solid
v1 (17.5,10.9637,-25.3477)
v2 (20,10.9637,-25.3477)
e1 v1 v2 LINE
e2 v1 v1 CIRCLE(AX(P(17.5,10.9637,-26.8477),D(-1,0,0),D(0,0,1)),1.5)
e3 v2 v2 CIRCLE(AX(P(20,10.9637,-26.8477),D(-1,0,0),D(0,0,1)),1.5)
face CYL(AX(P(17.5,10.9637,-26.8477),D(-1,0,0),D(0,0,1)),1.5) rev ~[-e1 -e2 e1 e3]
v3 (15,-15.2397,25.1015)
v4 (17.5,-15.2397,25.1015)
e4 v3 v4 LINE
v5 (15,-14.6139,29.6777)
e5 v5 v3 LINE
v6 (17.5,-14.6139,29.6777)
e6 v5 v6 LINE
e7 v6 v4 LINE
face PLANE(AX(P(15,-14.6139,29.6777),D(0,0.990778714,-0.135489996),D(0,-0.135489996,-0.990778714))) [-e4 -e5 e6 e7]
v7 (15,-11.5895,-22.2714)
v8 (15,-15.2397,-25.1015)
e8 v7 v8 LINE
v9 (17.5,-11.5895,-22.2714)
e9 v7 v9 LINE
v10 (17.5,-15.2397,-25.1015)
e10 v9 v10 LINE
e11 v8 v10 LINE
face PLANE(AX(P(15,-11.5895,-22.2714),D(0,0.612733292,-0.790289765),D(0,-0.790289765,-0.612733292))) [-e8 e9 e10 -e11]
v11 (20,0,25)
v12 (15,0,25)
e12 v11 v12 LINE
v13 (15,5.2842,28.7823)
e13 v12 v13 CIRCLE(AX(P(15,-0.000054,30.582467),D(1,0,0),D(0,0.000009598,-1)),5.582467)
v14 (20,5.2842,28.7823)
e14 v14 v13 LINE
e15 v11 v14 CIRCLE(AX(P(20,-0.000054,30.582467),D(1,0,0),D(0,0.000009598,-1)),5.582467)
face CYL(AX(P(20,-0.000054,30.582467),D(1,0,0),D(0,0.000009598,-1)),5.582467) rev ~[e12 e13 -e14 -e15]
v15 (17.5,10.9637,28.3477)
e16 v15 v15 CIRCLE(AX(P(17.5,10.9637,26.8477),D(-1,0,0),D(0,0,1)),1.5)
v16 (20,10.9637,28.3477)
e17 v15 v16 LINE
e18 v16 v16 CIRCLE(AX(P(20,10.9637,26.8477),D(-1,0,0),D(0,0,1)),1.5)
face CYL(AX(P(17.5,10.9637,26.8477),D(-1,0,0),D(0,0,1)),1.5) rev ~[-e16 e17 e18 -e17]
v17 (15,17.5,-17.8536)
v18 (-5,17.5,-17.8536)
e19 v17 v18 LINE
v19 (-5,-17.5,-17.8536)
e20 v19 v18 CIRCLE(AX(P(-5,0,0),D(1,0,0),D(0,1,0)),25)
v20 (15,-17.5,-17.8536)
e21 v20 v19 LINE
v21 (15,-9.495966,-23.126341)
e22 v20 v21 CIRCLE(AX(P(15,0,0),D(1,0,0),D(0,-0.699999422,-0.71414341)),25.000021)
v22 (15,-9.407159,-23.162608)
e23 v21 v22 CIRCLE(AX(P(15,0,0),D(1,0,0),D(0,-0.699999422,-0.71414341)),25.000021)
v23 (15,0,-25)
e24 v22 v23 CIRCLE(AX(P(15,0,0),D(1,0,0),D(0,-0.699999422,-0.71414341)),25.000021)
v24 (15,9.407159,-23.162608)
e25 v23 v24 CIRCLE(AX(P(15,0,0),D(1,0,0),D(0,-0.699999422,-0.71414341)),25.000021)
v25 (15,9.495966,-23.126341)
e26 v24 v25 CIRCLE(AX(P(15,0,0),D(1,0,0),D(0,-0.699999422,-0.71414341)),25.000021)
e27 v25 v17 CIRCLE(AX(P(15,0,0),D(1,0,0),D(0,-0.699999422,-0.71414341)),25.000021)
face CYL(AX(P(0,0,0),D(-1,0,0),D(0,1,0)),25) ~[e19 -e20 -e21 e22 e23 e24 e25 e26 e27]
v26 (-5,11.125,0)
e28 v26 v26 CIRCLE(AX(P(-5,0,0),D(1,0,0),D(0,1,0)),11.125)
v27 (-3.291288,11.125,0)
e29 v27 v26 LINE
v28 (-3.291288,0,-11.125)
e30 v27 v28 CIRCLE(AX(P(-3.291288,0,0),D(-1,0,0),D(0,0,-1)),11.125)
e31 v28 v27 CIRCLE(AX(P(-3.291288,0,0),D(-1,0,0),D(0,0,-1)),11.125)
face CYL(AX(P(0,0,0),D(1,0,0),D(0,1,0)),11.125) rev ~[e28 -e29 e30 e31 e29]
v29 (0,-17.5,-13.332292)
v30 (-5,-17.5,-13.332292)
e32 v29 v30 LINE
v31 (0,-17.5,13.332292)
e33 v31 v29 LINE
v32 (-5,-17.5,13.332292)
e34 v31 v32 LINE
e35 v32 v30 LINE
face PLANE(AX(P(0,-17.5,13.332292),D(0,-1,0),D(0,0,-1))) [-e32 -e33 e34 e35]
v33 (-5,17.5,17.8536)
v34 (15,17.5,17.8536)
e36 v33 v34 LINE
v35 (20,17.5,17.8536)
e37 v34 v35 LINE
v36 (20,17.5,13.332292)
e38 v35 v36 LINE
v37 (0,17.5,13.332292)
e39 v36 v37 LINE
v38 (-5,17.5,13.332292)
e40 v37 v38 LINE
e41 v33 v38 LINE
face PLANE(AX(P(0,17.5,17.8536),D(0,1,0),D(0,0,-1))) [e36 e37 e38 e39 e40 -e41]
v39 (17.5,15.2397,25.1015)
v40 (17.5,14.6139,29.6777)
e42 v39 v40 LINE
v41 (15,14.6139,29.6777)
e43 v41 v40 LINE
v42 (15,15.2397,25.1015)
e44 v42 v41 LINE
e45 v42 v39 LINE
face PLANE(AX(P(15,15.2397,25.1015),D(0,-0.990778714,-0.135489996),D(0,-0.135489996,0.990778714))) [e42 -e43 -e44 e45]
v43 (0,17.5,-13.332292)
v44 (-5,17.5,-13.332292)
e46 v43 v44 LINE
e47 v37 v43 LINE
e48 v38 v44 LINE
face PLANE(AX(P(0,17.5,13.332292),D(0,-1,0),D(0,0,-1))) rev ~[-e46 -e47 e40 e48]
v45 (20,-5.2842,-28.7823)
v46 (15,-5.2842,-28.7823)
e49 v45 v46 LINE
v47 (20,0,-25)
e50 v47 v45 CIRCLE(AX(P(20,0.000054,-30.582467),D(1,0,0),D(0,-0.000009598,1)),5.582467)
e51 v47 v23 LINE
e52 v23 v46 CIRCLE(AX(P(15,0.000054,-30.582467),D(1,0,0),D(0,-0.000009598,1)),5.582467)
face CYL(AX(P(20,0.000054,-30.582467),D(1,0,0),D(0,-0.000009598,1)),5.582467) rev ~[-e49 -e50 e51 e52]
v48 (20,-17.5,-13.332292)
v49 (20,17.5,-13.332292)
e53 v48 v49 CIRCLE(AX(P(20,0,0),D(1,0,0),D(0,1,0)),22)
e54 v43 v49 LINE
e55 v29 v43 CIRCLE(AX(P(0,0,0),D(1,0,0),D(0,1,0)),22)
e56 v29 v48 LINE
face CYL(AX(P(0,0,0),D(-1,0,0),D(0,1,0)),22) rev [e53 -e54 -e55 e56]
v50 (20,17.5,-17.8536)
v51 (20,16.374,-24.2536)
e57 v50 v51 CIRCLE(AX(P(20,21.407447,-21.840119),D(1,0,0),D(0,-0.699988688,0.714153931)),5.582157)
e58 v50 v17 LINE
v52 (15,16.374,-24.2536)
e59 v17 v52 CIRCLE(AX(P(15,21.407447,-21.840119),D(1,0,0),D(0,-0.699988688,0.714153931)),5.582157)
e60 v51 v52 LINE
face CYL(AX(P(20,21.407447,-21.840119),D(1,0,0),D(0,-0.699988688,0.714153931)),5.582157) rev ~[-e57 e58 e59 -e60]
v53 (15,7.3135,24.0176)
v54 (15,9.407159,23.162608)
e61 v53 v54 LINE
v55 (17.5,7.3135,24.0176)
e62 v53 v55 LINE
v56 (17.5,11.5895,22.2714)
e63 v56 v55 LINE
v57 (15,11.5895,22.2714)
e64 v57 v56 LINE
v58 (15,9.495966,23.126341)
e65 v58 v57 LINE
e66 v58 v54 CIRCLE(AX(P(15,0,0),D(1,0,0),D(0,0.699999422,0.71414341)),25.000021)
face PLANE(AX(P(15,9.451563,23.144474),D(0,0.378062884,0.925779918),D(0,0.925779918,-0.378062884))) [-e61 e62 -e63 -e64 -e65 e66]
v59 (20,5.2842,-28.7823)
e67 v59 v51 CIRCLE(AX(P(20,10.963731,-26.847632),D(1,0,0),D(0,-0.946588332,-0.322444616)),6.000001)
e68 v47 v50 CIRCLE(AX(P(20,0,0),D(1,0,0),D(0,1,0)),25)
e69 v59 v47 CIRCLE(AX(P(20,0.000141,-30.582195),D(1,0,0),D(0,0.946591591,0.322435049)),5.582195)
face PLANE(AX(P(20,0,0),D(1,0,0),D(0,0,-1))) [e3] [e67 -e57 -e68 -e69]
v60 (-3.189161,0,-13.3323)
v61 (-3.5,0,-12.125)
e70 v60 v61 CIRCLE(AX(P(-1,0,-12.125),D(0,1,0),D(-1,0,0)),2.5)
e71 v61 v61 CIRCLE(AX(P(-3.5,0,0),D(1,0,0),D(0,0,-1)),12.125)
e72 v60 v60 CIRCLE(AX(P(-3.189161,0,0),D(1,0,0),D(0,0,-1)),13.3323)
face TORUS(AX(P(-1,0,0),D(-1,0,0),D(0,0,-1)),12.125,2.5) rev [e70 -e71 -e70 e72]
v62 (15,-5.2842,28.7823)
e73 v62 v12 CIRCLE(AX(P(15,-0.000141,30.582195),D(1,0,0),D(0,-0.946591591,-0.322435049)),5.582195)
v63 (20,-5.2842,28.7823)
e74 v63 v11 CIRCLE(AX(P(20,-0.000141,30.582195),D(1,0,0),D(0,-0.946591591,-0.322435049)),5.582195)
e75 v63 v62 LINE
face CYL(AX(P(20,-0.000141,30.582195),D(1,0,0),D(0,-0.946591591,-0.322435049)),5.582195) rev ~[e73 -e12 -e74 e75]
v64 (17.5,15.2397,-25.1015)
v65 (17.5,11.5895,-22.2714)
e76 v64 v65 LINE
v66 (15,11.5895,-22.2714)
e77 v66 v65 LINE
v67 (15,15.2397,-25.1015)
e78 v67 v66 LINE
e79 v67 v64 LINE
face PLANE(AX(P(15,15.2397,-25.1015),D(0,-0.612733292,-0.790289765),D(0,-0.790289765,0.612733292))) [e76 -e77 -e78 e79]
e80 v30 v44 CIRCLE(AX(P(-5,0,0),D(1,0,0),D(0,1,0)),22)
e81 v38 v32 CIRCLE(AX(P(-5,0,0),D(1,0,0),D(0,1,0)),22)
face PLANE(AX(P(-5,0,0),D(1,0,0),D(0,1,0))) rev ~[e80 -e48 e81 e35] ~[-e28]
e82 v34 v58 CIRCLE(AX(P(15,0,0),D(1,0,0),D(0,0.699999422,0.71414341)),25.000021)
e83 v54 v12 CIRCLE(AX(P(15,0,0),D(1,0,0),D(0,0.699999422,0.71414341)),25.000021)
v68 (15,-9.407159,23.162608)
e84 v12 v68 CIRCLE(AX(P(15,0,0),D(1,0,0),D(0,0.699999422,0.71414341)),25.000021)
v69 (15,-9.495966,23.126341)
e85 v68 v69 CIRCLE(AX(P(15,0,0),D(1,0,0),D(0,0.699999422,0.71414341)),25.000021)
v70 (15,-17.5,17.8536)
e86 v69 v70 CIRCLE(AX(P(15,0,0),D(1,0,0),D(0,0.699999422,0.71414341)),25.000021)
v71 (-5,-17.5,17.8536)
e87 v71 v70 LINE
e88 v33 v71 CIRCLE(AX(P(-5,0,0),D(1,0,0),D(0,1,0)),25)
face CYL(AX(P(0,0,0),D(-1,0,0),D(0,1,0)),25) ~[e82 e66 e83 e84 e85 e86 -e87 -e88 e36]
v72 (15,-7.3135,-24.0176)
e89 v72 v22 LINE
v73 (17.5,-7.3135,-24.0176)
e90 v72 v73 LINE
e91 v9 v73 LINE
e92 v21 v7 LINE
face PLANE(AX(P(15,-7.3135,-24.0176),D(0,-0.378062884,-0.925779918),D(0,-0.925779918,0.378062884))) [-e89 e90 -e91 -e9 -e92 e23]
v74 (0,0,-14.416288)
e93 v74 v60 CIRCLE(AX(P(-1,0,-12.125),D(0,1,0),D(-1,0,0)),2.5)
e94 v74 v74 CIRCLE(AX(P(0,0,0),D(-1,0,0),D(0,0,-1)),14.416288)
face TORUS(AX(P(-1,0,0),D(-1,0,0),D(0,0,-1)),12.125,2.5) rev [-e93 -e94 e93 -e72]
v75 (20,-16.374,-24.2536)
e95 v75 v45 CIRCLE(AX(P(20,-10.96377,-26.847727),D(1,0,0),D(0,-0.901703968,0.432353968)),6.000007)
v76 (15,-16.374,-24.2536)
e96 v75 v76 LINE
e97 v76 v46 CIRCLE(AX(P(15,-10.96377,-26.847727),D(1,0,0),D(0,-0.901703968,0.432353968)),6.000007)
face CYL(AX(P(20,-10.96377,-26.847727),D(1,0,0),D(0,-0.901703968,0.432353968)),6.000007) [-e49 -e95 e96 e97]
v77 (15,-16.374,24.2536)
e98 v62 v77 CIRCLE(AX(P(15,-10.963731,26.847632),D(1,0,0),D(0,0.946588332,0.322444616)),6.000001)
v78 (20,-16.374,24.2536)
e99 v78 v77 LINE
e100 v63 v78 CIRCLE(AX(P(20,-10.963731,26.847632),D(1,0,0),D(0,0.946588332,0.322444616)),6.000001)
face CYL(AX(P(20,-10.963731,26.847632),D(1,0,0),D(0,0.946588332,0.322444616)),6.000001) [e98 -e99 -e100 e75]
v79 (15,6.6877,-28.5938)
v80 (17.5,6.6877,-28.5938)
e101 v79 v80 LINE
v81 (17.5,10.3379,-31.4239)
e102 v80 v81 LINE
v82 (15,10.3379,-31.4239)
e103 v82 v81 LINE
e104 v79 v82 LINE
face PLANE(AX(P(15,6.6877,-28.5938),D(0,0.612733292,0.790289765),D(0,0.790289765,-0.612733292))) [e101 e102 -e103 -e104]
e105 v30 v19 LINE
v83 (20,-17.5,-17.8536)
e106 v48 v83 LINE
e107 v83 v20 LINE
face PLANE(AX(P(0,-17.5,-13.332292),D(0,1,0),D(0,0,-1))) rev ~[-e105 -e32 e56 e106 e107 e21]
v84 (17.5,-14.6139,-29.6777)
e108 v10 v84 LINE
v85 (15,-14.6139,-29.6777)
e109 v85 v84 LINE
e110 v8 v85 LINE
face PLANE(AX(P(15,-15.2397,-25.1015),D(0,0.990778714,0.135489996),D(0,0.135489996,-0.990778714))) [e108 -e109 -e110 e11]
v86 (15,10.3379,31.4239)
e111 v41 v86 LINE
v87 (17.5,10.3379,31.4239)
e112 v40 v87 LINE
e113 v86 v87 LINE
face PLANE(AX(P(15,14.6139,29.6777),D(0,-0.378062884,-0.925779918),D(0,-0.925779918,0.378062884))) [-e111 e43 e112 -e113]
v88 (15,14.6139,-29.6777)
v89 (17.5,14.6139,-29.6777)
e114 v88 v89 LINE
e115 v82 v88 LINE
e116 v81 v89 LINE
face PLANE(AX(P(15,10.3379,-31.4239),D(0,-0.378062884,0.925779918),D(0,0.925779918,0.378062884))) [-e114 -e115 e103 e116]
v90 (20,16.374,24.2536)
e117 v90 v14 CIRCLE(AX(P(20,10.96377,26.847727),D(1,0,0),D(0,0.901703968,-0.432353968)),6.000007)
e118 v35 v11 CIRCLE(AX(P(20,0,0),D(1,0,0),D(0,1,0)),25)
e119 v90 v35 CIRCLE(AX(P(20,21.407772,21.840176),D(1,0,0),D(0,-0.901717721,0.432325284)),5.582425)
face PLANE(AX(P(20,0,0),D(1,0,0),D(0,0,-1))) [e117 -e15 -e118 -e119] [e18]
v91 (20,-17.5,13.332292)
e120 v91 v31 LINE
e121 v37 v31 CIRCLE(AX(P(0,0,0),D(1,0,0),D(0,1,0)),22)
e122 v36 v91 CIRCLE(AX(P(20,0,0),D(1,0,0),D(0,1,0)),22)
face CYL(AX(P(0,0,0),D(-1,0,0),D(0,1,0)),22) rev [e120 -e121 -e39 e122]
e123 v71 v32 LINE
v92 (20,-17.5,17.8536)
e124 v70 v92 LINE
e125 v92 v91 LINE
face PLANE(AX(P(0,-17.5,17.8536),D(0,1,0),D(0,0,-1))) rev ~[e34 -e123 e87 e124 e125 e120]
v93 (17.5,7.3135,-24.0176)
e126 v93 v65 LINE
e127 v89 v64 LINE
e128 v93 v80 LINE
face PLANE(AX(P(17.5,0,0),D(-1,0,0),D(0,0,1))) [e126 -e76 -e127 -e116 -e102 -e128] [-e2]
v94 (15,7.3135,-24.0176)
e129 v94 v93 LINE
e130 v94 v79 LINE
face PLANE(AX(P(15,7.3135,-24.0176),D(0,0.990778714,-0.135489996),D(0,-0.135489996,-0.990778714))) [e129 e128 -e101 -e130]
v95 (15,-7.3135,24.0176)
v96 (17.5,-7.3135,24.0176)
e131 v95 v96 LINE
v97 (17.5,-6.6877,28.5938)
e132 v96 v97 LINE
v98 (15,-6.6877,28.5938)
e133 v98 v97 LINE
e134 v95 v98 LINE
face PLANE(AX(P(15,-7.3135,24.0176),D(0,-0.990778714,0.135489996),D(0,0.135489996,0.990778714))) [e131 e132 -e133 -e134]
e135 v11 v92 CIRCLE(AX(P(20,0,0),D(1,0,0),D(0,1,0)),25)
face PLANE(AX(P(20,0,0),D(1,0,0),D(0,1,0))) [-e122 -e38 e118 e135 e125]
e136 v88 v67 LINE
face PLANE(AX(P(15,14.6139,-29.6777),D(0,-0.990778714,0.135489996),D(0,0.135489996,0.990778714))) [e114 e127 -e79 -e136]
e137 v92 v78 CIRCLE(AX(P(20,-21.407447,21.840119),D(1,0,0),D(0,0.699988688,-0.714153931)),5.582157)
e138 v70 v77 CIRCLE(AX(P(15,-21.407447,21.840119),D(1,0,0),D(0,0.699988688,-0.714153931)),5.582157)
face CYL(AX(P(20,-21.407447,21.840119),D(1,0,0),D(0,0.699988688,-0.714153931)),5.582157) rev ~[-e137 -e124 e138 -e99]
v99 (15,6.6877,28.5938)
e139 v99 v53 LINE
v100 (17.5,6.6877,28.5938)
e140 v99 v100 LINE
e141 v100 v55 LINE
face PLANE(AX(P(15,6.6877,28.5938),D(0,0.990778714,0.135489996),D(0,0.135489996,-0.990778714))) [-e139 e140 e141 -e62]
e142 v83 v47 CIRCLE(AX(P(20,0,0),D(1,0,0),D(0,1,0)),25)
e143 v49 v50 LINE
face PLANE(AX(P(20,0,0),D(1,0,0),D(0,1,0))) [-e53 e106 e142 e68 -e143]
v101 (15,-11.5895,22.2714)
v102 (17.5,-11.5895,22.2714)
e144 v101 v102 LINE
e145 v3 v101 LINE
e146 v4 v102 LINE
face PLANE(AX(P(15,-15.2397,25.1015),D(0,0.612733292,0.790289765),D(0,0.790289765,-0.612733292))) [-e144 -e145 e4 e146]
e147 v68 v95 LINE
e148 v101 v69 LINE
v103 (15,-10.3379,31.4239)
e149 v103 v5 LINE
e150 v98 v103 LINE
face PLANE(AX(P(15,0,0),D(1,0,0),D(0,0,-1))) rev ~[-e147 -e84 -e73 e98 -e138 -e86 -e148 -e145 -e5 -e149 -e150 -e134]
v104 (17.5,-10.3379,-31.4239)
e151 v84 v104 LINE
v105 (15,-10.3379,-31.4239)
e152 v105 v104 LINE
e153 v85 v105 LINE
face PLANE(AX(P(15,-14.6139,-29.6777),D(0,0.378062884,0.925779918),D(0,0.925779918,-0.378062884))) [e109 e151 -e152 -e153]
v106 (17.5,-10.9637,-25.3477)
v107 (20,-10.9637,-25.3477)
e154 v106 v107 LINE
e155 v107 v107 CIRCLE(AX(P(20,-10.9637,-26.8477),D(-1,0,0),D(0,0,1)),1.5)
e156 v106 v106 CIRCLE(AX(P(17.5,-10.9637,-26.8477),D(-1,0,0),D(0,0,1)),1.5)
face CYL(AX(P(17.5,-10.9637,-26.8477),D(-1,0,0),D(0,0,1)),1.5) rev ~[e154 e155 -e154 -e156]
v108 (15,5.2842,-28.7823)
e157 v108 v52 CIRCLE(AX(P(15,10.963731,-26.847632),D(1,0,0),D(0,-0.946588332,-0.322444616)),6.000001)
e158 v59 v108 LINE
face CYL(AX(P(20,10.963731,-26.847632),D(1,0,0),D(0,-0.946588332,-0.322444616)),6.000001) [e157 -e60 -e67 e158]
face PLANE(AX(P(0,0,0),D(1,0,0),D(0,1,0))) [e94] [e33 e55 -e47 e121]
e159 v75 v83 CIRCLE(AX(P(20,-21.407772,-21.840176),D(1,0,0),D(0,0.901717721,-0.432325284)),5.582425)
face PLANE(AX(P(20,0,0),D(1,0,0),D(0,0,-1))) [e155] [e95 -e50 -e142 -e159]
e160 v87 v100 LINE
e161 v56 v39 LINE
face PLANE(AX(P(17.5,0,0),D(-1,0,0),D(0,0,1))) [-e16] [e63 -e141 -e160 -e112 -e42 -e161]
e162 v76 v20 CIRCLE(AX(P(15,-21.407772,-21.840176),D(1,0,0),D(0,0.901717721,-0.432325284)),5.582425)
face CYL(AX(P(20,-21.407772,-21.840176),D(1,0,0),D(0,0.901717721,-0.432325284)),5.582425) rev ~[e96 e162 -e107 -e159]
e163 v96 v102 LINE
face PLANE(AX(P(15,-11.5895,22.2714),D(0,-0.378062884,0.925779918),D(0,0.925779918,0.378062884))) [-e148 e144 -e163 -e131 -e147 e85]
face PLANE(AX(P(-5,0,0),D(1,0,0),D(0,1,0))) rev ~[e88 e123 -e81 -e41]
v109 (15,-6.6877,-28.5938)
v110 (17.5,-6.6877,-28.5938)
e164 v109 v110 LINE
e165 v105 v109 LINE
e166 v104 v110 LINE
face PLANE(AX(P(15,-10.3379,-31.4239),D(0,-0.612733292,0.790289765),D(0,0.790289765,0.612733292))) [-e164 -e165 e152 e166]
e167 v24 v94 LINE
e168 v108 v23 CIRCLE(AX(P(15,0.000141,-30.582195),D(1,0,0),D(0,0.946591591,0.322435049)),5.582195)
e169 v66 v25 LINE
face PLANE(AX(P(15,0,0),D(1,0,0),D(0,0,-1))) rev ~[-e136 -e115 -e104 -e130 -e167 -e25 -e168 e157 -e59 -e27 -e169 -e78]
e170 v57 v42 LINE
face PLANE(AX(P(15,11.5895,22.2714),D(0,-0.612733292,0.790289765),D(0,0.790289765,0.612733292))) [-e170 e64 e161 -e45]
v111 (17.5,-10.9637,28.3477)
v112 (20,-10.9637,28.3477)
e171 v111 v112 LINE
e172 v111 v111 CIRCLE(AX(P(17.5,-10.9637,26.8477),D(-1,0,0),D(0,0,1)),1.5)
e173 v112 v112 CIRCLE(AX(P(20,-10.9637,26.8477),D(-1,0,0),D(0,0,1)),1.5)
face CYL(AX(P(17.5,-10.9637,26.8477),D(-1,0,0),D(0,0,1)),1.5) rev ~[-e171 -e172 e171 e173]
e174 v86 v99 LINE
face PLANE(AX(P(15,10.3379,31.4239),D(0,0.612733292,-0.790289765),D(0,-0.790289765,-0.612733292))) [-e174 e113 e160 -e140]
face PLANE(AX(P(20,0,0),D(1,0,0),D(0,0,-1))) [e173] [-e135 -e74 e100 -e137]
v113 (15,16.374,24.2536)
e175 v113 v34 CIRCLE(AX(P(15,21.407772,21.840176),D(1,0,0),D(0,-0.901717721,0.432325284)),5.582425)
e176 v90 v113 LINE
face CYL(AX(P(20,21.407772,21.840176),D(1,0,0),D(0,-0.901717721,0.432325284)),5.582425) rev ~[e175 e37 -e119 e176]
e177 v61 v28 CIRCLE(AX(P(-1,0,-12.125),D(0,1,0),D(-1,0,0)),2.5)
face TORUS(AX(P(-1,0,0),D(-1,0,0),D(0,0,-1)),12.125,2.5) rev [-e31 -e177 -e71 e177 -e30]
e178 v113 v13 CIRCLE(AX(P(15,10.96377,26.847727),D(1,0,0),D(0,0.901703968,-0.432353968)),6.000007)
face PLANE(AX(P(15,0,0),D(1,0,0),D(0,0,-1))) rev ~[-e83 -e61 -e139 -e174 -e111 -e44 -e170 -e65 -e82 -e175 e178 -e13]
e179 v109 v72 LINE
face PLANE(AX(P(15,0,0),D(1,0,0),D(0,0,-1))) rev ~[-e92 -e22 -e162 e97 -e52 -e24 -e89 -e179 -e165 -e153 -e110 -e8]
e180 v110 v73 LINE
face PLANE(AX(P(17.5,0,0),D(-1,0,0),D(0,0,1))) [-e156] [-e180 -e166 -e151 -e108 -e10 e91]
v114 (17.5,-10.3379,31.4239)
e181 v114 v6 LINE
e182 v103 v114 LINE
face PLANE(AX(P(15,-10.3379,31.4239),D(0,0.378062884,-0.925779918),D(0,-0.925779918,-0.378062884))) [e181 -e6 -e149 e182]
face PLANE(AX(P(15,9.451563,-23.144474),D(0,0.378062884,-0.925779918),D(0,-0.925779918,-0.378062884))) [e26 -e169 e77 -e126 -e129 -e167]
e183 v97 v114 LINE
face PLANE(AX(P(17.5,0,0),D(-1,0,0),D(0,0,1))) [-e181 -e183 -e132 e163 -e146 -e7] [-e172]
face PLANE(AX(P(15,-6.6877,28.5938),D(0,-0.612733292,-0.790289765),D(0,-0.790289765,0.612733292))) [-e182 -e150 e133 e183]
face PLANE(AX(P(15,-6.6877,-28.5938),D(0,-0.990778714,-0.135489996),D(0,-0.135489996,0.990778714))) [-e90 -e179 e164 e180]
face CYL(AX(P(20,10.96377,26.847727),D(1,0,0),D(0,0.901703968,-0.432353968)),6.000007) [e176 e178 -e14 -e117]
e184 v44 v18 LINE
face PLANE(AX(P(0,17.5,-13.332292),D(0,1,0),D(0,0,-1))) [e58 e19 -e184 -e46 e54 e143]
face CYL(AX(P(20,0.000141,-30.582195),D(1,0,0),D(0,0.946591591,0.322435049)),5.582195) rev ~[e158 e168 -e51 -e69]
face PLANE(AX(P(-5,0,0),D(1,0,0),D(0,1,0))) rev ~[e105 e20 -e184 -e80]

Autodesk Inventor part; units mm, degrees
ref_plane "YZ Plane" through (0, 0, 0) normal (1, 0, 0) x (0, 1, 0)
ref_plane "XZ Plane" through (0, 0, 0) normal (0, 1, 0) x (-1, 0, 0)
ref_plane "XY Plane" through (0, 0, 0) normal (0, 0, 1) x (1, 0, 0)
sketch "Sketch1" plane through (0, 0, 0) normal (1, 0, 0) x (0, 1, 0)
  circle A0 centre (0, 0) radius 11.125
  line L0 (17.5, 17.8536) -> (17.5, -17.8536)
  line L1 (-17.5, 17.8536) -> (-17.5, -17.8536)
  circle A1 centre (0, 0) radius 25
  circle A2 centre (0, 0) radius 22
  point P0 (-17.5, -13.3323)
  point P1 (17.5, -13.3323)
  point P2 (17.5, 13.3323)
  point P3 (-17.5, 13.3323)
  dimension "d0" = 22.25
  dimension "d1" = 44
  dimension "d2" = 3
  dimension "d3" = 35
  dimension "d4" = 17.5
  dimension "d5" = 17.5
extrude "Extrusion1" add sketch "Sketch1" against normal blind 5 contours L0 A2 L1
sketch "Sketch2" plane through (0, 0, 0) normal (0, 1, 0) x (-1, 0, 0)
  circle A0 centre (1, -12.125) radius 2.5
  line L0 (0, -11.125) -> (0, 11.125) projected
  line L1 (0, -13.3323) -> (5, -13.3323) projected
  line L2 (10.1054, 0) -> (-6.8503, 0) construction
  point P0 (0, 0)
  dimension "d8" = 5
  dimension "d9" = 1
  dimension "d11" = 1
revolve "Revolution1" cut sketch "Sketch2" angle 360 about axis through (-10.1054, 0, 0) along (1, 0, 0)
extrude "Extrusion2" add sketch "Sketch1" along normal blind 20 and the other way blind 5 contours L0 A2 L1 A1 | L0 A1 L1 A2
sketch "Sketch3" plane through (20, 0, 0) normal (1, 0, 0) x (0, 0, -1)
  line L0 (-13.3323, 17.5) -> (-17.8536, 17.5) projected
  arc A0 (-24.2536, 16.374) -> (-17.8536, 17.5) centre (-21.8402, 21.4076) ccw
  arc A1 (-24.2536, 16.374) -> (-28.7823, 5.2842) centre (-26.8477, 10.9637) ccw
  arc A2 (-17.8536, 17.5) -> (-17.8536, -17.5) centre (0, 0) ccw projected
  arc A3 (-25, 0) -> (-28.7823, 5.2842) centre (-30.5823, 0) ccw
  arc A4 (-28.7823, -5.2842) -> (-25, 0) centre (-30.5823, 0) ccw
  arc A5 (-28.7823, -5.2842) -> (-24.2536, -16.374) centre (-26.8477, -10.9637) ccw
  arc A6 (-17.8536, -17.5) -> (-24.2536, -16.374) centre (-21.8402, -21.4076) ccw
  arc A7 (-17.8536, 17.5) -> (-17.8536, -17.5) centre (0, 0) ccw projected
  line L1 (-17.8536, 17.5) -> (17.8536, 17.5) projected
  arc A8 (17.8536, 17.5) -> (24.2536, 16.374) centre (21.8402, 21.4076) ccw
  arc A9 (28.7823, 5.2842) -> (24.2536, 16.374) centre (26.8477, 10.9637) ccw
  arc A10 (28.7823, 5.2842) -> (25, 0) centre (30.5823, 0) ccw
  line L2 (17.8536, -17.5) -> (-17.8536, -17.5) projected
  arc A11 (24.2536, -16.374) -> (17.8536, -17.5) centre (21.8402, -21.4076) ccw
  arc A12 (24.2536, -16.374) -> (28.7823, -5.2842) centre (26.8477, -10.9637) ccw
  arc A13 (25, 0) -> (28.7823, -5.2842) centre (30.5823, 0) ccw
  arc A14 (17.8536, -17.5) -> (17.8536, 17.5) centre (0, 0) ccw projected
  circle A15 centre (-26.8477, -10.9637) radius 4 construction
  circle A16 centre (-26.8477, 10.9637) radius 4 construction
  circle A17 centre (26.8477, 10.9637) radius 4 construction
  circle A18 centre (26.8477, -10.9637) radius 4 construction
  dimension "d17" = 6
  dimension "d18" = 6
  dimension "d19" = 6
  dimension "d20" = 6
  dimension "d21" = 8
  dimension "d22" = 8
  dimension "d23" = 8
  dimension "d24" = 8
extrude "Extrusion3" add sketch "Sketch3" against normal blind 5 contours A2 A3 A1 A0 | A8 A9 A10 A14 | A2 A6 A5 A4 | A13 A12 A11 A14
sketch "Sketch4" plane through (15, 0, 0) normal (-1, 0, 0) x (0, 0, 1)
  line L0 (22.2714, -11.5895) -> (24.0176, -7.3135)
  line L1 (24.0176, -7.3135) -> (28.5938, -6.6877)
  line L2 (28.5938, -6.6877) -> (31.4239, -10.3379)
  line L3 (31.4239, -10.3379) -> (29.6777, -14.6139)
  line L4 (29.6777, -14.6139) -> (25.1015, -15.2397)
  line L5 (25.1015, -15.2397) -> (22.2714, -11.5895)
  line L6 (25.1015, 15.2397) -> (29.6777, 14.6139)
  line L7 (29.6777, 14.6139) -> (31.4239, 10.3379)
  line L8 (31.4239, 10.3379) -> (28.5938, 6.6877)
  line L9 (28.5938, 6.6877) -> (24.0176, 7.3135)
  line L10 (24.0176, 7.3135) -> (22.2714, 11.5895)
  line L11 (22.2714, 11.5895) -> (25.1015, 15.2397)
  line L12 (-25.1015, -15.2397) -> (-29.6777, -14.6139)
  line L13 (-29.6777, -14.6139) -> (-31.4239, -10.3379)
  line L14 (-31.4239, -10.3379) -> (-28.5938, -6.6877)
  line L15 (-28.5938, -6.6877) -> (-24.0176, -7.3135)
  line L16 (-24.0176, -7.3135) -> (-22.2714, -11.5895)
  line L17 (-22.2714, -11.5895) -> (-25.1015, -15.2397)
  line L18 (-29.6777, 14.6139) -> (-25.1015, 15.2397)
  line L19 (-25.1015, 15.2397) -> (-22.2714, 11.5895)
  line L20 (-22.2714, 11.5895) -> (-24.0176, 7.3135)
  line L21 (-24.0176, 7.3135) -> (-28.5938, 6.6877)
  line L22 (-28.5938, 6.6877) -> (-31.4239, 10.3379)
  line L23 (-31.4239, 10.3379) -> (-29.6777, 14.6139)
  arc A0 (17.8536, -17.5) -> (17.8536, 17.5) centre (0, 0) ccw projected
  arc A1 (-17.8536, 17.5) -> (-17.8536, -17.5) centre (0, 0) ccw projected
  arc A2 (24.2536, -16.374) -> (17.8536, -17.5) centre (21.8402, -21.4076) ccw projected
  arc A3 (25, 0) -> (28.7823, -5.2842) centre (30.5823, 0) ccw projected
  arc A4 (28.7823, 5.2842) -> (25, 0) centre (30.5823, 0) ccw projected
  arc A5 (17.8536, 17.5) -> (24.2536, 16.374) centre (21.8402, 21.4076) ccw projected
  arc A6 (-17.8536, -17.5) -> (-24.2536, -16.374) centre (-21.8402, -21.4076) ccw projected
  arc A7 (-28.7823, -5.2842) -> (-25, 0) centre (-30.5823, 0) ccw projected
  arc A8 (-25, 0) -> (-28.7823, 5.2842) centre (-30.5823, 0) ccw projected
  arc A9 (-24.2536, 16.374) -> (-17.8536, 17.5) centre (-21.8402, 21.4076) ccw projected
  point P0 (26.8477, -10.9637)
  point P1 (26.8477, 10.9637)
  point P2 (-26.8477, -10.9637)
  point P3 (-26.8477, 10.9637)
  point P4 (23.1445, 9.4515)
  point P5 (23.1445, -9.4515)
  point P6 (-23.1445, -9.4515)
  point P7 (-23.1445, 9.4515)
  dimension "d27" = 8
  dimension "d30" = 8
  dimension "d31" = 8
  dimension "d32" = 8
  dimension "d33" = 11.5823
  dimension "d34" = 11.5823
  dimension "d35" = 11.5823
  dimension "d36" = 11.5823
  dimension "d37" = 11.5823
  dimension "d38" = 11.5823
  dimension "d39" = 11.5823
  dimension "d40" = 11.5823
extrude "Extrusion4" cut sketch "Sketch4" against normal blind 2.5
sketch "Sketch5" plane through (17.5, 0, 0) normal (-1, 0, 0) x (0, 0, 1)
  circle A0 centre (-26.8477, -10.9637) radius 1.5
  circle A1 centre (-26.8477, 10.9637) radius 1.5
  circle A2 centre (26.8477, 10.9637) radius 1.5
  circle A3 centre (26.8477, -10.9637) radius 1.5
  line L0 (29.6777, -14.6139) -> (25.1015, -15.2397) projected
  line L1 (24.0176, -7.3135) -> (28.5938, -6.6877) projected
  line L2 (31.4239, -10.3379) -> (29.6777, -14.6139) projected
  line L3 (23.1445, -9.4515) -> (24.0176, -7.3135) projected
  line L4 (28.5938, 6.6877) -> (24.0176, 7.3135) projected
  line L5 (25.1015, 15.2397) -> (29.6777, 14.6139) projected
  line L6 (23.1445, 9.4515) -> (22.2714, 11.5895) projected
  line L7 (29.6777, 14.6139) -> (31.4239, 10.3379) projected
  line L8 (-28.5938, 6.6877) -> (-31.4239, 10.3379) projected
  line L9 (-25.1015, 15.2397) -> (-22.2714, 11.5895) projected
  line L10 (-24.0176, 7.3135) -> (-28.5938, 6.6877) projected
  line L11 (-29.6777, 14.6139) -> (-25.1015, 15.2397) projected
  line L12 (-25.1015, -15.2397) -> (-29.6777, -14.6139) projected
  line L13 (-28.5938, -6.6877) -> (-24.0176, -7.3135) projected
  line L14 (-31.4239, -10.3379) -> (-28.5938, -6.6877) projected
  line L15 (-22.2714, -11.5895) -> (-25.1015, -15.2397) projected
  point P0 (0, 0)
  dimension "d43" = 4
  dimension "d44" = 4
  dimension "d45" = 4
  dimension "d46" = 4
  dimension "d47" = 3
  dimension "d48" = 3
  dimension "d49" = 4
  dimension "d50" = 4
  dimension "d51" = 4
  dimension "d52" = 4
  dimension "d53" = 3
  dimension "d54" = 3
  dimension "d55" = 4
  dimension "d56" = 4
  dimension "d57" = 4
  dimension "d58" = 4
  dimension "d59" = 4
  dimension "d60" = 4
  dimension "d61" = 4
  dimension "d62" = 4
extrude "Extrusion5" cut sketch "Sketch5" against normal through all
equation "\"d4\" = d5"
equation "\"d18\" = d17"
equation "\"d19\" = d17"
equation "\"d20\" = d17"
equation "\"d22\" = d21"
equation "\"d23\" = d21"
equation "\"d24\" = d21"
equation "\"d33\" = d34"
equation "\"d35\" = d36"
equation "\"d37\" = d38"
equation "\"d39\" = d40"
equation "\"d43\" = d44"
equation "\"d45\" = d46"
equation "\"d49\" = d50"
equation "\"d51\" = d52"
equation "\"d55\" = d56"
equation "\"d57\" = d58"
equation "\"d59\" = d60"
equation "\"d61\" = d62"
properties part number "shaft holder"
